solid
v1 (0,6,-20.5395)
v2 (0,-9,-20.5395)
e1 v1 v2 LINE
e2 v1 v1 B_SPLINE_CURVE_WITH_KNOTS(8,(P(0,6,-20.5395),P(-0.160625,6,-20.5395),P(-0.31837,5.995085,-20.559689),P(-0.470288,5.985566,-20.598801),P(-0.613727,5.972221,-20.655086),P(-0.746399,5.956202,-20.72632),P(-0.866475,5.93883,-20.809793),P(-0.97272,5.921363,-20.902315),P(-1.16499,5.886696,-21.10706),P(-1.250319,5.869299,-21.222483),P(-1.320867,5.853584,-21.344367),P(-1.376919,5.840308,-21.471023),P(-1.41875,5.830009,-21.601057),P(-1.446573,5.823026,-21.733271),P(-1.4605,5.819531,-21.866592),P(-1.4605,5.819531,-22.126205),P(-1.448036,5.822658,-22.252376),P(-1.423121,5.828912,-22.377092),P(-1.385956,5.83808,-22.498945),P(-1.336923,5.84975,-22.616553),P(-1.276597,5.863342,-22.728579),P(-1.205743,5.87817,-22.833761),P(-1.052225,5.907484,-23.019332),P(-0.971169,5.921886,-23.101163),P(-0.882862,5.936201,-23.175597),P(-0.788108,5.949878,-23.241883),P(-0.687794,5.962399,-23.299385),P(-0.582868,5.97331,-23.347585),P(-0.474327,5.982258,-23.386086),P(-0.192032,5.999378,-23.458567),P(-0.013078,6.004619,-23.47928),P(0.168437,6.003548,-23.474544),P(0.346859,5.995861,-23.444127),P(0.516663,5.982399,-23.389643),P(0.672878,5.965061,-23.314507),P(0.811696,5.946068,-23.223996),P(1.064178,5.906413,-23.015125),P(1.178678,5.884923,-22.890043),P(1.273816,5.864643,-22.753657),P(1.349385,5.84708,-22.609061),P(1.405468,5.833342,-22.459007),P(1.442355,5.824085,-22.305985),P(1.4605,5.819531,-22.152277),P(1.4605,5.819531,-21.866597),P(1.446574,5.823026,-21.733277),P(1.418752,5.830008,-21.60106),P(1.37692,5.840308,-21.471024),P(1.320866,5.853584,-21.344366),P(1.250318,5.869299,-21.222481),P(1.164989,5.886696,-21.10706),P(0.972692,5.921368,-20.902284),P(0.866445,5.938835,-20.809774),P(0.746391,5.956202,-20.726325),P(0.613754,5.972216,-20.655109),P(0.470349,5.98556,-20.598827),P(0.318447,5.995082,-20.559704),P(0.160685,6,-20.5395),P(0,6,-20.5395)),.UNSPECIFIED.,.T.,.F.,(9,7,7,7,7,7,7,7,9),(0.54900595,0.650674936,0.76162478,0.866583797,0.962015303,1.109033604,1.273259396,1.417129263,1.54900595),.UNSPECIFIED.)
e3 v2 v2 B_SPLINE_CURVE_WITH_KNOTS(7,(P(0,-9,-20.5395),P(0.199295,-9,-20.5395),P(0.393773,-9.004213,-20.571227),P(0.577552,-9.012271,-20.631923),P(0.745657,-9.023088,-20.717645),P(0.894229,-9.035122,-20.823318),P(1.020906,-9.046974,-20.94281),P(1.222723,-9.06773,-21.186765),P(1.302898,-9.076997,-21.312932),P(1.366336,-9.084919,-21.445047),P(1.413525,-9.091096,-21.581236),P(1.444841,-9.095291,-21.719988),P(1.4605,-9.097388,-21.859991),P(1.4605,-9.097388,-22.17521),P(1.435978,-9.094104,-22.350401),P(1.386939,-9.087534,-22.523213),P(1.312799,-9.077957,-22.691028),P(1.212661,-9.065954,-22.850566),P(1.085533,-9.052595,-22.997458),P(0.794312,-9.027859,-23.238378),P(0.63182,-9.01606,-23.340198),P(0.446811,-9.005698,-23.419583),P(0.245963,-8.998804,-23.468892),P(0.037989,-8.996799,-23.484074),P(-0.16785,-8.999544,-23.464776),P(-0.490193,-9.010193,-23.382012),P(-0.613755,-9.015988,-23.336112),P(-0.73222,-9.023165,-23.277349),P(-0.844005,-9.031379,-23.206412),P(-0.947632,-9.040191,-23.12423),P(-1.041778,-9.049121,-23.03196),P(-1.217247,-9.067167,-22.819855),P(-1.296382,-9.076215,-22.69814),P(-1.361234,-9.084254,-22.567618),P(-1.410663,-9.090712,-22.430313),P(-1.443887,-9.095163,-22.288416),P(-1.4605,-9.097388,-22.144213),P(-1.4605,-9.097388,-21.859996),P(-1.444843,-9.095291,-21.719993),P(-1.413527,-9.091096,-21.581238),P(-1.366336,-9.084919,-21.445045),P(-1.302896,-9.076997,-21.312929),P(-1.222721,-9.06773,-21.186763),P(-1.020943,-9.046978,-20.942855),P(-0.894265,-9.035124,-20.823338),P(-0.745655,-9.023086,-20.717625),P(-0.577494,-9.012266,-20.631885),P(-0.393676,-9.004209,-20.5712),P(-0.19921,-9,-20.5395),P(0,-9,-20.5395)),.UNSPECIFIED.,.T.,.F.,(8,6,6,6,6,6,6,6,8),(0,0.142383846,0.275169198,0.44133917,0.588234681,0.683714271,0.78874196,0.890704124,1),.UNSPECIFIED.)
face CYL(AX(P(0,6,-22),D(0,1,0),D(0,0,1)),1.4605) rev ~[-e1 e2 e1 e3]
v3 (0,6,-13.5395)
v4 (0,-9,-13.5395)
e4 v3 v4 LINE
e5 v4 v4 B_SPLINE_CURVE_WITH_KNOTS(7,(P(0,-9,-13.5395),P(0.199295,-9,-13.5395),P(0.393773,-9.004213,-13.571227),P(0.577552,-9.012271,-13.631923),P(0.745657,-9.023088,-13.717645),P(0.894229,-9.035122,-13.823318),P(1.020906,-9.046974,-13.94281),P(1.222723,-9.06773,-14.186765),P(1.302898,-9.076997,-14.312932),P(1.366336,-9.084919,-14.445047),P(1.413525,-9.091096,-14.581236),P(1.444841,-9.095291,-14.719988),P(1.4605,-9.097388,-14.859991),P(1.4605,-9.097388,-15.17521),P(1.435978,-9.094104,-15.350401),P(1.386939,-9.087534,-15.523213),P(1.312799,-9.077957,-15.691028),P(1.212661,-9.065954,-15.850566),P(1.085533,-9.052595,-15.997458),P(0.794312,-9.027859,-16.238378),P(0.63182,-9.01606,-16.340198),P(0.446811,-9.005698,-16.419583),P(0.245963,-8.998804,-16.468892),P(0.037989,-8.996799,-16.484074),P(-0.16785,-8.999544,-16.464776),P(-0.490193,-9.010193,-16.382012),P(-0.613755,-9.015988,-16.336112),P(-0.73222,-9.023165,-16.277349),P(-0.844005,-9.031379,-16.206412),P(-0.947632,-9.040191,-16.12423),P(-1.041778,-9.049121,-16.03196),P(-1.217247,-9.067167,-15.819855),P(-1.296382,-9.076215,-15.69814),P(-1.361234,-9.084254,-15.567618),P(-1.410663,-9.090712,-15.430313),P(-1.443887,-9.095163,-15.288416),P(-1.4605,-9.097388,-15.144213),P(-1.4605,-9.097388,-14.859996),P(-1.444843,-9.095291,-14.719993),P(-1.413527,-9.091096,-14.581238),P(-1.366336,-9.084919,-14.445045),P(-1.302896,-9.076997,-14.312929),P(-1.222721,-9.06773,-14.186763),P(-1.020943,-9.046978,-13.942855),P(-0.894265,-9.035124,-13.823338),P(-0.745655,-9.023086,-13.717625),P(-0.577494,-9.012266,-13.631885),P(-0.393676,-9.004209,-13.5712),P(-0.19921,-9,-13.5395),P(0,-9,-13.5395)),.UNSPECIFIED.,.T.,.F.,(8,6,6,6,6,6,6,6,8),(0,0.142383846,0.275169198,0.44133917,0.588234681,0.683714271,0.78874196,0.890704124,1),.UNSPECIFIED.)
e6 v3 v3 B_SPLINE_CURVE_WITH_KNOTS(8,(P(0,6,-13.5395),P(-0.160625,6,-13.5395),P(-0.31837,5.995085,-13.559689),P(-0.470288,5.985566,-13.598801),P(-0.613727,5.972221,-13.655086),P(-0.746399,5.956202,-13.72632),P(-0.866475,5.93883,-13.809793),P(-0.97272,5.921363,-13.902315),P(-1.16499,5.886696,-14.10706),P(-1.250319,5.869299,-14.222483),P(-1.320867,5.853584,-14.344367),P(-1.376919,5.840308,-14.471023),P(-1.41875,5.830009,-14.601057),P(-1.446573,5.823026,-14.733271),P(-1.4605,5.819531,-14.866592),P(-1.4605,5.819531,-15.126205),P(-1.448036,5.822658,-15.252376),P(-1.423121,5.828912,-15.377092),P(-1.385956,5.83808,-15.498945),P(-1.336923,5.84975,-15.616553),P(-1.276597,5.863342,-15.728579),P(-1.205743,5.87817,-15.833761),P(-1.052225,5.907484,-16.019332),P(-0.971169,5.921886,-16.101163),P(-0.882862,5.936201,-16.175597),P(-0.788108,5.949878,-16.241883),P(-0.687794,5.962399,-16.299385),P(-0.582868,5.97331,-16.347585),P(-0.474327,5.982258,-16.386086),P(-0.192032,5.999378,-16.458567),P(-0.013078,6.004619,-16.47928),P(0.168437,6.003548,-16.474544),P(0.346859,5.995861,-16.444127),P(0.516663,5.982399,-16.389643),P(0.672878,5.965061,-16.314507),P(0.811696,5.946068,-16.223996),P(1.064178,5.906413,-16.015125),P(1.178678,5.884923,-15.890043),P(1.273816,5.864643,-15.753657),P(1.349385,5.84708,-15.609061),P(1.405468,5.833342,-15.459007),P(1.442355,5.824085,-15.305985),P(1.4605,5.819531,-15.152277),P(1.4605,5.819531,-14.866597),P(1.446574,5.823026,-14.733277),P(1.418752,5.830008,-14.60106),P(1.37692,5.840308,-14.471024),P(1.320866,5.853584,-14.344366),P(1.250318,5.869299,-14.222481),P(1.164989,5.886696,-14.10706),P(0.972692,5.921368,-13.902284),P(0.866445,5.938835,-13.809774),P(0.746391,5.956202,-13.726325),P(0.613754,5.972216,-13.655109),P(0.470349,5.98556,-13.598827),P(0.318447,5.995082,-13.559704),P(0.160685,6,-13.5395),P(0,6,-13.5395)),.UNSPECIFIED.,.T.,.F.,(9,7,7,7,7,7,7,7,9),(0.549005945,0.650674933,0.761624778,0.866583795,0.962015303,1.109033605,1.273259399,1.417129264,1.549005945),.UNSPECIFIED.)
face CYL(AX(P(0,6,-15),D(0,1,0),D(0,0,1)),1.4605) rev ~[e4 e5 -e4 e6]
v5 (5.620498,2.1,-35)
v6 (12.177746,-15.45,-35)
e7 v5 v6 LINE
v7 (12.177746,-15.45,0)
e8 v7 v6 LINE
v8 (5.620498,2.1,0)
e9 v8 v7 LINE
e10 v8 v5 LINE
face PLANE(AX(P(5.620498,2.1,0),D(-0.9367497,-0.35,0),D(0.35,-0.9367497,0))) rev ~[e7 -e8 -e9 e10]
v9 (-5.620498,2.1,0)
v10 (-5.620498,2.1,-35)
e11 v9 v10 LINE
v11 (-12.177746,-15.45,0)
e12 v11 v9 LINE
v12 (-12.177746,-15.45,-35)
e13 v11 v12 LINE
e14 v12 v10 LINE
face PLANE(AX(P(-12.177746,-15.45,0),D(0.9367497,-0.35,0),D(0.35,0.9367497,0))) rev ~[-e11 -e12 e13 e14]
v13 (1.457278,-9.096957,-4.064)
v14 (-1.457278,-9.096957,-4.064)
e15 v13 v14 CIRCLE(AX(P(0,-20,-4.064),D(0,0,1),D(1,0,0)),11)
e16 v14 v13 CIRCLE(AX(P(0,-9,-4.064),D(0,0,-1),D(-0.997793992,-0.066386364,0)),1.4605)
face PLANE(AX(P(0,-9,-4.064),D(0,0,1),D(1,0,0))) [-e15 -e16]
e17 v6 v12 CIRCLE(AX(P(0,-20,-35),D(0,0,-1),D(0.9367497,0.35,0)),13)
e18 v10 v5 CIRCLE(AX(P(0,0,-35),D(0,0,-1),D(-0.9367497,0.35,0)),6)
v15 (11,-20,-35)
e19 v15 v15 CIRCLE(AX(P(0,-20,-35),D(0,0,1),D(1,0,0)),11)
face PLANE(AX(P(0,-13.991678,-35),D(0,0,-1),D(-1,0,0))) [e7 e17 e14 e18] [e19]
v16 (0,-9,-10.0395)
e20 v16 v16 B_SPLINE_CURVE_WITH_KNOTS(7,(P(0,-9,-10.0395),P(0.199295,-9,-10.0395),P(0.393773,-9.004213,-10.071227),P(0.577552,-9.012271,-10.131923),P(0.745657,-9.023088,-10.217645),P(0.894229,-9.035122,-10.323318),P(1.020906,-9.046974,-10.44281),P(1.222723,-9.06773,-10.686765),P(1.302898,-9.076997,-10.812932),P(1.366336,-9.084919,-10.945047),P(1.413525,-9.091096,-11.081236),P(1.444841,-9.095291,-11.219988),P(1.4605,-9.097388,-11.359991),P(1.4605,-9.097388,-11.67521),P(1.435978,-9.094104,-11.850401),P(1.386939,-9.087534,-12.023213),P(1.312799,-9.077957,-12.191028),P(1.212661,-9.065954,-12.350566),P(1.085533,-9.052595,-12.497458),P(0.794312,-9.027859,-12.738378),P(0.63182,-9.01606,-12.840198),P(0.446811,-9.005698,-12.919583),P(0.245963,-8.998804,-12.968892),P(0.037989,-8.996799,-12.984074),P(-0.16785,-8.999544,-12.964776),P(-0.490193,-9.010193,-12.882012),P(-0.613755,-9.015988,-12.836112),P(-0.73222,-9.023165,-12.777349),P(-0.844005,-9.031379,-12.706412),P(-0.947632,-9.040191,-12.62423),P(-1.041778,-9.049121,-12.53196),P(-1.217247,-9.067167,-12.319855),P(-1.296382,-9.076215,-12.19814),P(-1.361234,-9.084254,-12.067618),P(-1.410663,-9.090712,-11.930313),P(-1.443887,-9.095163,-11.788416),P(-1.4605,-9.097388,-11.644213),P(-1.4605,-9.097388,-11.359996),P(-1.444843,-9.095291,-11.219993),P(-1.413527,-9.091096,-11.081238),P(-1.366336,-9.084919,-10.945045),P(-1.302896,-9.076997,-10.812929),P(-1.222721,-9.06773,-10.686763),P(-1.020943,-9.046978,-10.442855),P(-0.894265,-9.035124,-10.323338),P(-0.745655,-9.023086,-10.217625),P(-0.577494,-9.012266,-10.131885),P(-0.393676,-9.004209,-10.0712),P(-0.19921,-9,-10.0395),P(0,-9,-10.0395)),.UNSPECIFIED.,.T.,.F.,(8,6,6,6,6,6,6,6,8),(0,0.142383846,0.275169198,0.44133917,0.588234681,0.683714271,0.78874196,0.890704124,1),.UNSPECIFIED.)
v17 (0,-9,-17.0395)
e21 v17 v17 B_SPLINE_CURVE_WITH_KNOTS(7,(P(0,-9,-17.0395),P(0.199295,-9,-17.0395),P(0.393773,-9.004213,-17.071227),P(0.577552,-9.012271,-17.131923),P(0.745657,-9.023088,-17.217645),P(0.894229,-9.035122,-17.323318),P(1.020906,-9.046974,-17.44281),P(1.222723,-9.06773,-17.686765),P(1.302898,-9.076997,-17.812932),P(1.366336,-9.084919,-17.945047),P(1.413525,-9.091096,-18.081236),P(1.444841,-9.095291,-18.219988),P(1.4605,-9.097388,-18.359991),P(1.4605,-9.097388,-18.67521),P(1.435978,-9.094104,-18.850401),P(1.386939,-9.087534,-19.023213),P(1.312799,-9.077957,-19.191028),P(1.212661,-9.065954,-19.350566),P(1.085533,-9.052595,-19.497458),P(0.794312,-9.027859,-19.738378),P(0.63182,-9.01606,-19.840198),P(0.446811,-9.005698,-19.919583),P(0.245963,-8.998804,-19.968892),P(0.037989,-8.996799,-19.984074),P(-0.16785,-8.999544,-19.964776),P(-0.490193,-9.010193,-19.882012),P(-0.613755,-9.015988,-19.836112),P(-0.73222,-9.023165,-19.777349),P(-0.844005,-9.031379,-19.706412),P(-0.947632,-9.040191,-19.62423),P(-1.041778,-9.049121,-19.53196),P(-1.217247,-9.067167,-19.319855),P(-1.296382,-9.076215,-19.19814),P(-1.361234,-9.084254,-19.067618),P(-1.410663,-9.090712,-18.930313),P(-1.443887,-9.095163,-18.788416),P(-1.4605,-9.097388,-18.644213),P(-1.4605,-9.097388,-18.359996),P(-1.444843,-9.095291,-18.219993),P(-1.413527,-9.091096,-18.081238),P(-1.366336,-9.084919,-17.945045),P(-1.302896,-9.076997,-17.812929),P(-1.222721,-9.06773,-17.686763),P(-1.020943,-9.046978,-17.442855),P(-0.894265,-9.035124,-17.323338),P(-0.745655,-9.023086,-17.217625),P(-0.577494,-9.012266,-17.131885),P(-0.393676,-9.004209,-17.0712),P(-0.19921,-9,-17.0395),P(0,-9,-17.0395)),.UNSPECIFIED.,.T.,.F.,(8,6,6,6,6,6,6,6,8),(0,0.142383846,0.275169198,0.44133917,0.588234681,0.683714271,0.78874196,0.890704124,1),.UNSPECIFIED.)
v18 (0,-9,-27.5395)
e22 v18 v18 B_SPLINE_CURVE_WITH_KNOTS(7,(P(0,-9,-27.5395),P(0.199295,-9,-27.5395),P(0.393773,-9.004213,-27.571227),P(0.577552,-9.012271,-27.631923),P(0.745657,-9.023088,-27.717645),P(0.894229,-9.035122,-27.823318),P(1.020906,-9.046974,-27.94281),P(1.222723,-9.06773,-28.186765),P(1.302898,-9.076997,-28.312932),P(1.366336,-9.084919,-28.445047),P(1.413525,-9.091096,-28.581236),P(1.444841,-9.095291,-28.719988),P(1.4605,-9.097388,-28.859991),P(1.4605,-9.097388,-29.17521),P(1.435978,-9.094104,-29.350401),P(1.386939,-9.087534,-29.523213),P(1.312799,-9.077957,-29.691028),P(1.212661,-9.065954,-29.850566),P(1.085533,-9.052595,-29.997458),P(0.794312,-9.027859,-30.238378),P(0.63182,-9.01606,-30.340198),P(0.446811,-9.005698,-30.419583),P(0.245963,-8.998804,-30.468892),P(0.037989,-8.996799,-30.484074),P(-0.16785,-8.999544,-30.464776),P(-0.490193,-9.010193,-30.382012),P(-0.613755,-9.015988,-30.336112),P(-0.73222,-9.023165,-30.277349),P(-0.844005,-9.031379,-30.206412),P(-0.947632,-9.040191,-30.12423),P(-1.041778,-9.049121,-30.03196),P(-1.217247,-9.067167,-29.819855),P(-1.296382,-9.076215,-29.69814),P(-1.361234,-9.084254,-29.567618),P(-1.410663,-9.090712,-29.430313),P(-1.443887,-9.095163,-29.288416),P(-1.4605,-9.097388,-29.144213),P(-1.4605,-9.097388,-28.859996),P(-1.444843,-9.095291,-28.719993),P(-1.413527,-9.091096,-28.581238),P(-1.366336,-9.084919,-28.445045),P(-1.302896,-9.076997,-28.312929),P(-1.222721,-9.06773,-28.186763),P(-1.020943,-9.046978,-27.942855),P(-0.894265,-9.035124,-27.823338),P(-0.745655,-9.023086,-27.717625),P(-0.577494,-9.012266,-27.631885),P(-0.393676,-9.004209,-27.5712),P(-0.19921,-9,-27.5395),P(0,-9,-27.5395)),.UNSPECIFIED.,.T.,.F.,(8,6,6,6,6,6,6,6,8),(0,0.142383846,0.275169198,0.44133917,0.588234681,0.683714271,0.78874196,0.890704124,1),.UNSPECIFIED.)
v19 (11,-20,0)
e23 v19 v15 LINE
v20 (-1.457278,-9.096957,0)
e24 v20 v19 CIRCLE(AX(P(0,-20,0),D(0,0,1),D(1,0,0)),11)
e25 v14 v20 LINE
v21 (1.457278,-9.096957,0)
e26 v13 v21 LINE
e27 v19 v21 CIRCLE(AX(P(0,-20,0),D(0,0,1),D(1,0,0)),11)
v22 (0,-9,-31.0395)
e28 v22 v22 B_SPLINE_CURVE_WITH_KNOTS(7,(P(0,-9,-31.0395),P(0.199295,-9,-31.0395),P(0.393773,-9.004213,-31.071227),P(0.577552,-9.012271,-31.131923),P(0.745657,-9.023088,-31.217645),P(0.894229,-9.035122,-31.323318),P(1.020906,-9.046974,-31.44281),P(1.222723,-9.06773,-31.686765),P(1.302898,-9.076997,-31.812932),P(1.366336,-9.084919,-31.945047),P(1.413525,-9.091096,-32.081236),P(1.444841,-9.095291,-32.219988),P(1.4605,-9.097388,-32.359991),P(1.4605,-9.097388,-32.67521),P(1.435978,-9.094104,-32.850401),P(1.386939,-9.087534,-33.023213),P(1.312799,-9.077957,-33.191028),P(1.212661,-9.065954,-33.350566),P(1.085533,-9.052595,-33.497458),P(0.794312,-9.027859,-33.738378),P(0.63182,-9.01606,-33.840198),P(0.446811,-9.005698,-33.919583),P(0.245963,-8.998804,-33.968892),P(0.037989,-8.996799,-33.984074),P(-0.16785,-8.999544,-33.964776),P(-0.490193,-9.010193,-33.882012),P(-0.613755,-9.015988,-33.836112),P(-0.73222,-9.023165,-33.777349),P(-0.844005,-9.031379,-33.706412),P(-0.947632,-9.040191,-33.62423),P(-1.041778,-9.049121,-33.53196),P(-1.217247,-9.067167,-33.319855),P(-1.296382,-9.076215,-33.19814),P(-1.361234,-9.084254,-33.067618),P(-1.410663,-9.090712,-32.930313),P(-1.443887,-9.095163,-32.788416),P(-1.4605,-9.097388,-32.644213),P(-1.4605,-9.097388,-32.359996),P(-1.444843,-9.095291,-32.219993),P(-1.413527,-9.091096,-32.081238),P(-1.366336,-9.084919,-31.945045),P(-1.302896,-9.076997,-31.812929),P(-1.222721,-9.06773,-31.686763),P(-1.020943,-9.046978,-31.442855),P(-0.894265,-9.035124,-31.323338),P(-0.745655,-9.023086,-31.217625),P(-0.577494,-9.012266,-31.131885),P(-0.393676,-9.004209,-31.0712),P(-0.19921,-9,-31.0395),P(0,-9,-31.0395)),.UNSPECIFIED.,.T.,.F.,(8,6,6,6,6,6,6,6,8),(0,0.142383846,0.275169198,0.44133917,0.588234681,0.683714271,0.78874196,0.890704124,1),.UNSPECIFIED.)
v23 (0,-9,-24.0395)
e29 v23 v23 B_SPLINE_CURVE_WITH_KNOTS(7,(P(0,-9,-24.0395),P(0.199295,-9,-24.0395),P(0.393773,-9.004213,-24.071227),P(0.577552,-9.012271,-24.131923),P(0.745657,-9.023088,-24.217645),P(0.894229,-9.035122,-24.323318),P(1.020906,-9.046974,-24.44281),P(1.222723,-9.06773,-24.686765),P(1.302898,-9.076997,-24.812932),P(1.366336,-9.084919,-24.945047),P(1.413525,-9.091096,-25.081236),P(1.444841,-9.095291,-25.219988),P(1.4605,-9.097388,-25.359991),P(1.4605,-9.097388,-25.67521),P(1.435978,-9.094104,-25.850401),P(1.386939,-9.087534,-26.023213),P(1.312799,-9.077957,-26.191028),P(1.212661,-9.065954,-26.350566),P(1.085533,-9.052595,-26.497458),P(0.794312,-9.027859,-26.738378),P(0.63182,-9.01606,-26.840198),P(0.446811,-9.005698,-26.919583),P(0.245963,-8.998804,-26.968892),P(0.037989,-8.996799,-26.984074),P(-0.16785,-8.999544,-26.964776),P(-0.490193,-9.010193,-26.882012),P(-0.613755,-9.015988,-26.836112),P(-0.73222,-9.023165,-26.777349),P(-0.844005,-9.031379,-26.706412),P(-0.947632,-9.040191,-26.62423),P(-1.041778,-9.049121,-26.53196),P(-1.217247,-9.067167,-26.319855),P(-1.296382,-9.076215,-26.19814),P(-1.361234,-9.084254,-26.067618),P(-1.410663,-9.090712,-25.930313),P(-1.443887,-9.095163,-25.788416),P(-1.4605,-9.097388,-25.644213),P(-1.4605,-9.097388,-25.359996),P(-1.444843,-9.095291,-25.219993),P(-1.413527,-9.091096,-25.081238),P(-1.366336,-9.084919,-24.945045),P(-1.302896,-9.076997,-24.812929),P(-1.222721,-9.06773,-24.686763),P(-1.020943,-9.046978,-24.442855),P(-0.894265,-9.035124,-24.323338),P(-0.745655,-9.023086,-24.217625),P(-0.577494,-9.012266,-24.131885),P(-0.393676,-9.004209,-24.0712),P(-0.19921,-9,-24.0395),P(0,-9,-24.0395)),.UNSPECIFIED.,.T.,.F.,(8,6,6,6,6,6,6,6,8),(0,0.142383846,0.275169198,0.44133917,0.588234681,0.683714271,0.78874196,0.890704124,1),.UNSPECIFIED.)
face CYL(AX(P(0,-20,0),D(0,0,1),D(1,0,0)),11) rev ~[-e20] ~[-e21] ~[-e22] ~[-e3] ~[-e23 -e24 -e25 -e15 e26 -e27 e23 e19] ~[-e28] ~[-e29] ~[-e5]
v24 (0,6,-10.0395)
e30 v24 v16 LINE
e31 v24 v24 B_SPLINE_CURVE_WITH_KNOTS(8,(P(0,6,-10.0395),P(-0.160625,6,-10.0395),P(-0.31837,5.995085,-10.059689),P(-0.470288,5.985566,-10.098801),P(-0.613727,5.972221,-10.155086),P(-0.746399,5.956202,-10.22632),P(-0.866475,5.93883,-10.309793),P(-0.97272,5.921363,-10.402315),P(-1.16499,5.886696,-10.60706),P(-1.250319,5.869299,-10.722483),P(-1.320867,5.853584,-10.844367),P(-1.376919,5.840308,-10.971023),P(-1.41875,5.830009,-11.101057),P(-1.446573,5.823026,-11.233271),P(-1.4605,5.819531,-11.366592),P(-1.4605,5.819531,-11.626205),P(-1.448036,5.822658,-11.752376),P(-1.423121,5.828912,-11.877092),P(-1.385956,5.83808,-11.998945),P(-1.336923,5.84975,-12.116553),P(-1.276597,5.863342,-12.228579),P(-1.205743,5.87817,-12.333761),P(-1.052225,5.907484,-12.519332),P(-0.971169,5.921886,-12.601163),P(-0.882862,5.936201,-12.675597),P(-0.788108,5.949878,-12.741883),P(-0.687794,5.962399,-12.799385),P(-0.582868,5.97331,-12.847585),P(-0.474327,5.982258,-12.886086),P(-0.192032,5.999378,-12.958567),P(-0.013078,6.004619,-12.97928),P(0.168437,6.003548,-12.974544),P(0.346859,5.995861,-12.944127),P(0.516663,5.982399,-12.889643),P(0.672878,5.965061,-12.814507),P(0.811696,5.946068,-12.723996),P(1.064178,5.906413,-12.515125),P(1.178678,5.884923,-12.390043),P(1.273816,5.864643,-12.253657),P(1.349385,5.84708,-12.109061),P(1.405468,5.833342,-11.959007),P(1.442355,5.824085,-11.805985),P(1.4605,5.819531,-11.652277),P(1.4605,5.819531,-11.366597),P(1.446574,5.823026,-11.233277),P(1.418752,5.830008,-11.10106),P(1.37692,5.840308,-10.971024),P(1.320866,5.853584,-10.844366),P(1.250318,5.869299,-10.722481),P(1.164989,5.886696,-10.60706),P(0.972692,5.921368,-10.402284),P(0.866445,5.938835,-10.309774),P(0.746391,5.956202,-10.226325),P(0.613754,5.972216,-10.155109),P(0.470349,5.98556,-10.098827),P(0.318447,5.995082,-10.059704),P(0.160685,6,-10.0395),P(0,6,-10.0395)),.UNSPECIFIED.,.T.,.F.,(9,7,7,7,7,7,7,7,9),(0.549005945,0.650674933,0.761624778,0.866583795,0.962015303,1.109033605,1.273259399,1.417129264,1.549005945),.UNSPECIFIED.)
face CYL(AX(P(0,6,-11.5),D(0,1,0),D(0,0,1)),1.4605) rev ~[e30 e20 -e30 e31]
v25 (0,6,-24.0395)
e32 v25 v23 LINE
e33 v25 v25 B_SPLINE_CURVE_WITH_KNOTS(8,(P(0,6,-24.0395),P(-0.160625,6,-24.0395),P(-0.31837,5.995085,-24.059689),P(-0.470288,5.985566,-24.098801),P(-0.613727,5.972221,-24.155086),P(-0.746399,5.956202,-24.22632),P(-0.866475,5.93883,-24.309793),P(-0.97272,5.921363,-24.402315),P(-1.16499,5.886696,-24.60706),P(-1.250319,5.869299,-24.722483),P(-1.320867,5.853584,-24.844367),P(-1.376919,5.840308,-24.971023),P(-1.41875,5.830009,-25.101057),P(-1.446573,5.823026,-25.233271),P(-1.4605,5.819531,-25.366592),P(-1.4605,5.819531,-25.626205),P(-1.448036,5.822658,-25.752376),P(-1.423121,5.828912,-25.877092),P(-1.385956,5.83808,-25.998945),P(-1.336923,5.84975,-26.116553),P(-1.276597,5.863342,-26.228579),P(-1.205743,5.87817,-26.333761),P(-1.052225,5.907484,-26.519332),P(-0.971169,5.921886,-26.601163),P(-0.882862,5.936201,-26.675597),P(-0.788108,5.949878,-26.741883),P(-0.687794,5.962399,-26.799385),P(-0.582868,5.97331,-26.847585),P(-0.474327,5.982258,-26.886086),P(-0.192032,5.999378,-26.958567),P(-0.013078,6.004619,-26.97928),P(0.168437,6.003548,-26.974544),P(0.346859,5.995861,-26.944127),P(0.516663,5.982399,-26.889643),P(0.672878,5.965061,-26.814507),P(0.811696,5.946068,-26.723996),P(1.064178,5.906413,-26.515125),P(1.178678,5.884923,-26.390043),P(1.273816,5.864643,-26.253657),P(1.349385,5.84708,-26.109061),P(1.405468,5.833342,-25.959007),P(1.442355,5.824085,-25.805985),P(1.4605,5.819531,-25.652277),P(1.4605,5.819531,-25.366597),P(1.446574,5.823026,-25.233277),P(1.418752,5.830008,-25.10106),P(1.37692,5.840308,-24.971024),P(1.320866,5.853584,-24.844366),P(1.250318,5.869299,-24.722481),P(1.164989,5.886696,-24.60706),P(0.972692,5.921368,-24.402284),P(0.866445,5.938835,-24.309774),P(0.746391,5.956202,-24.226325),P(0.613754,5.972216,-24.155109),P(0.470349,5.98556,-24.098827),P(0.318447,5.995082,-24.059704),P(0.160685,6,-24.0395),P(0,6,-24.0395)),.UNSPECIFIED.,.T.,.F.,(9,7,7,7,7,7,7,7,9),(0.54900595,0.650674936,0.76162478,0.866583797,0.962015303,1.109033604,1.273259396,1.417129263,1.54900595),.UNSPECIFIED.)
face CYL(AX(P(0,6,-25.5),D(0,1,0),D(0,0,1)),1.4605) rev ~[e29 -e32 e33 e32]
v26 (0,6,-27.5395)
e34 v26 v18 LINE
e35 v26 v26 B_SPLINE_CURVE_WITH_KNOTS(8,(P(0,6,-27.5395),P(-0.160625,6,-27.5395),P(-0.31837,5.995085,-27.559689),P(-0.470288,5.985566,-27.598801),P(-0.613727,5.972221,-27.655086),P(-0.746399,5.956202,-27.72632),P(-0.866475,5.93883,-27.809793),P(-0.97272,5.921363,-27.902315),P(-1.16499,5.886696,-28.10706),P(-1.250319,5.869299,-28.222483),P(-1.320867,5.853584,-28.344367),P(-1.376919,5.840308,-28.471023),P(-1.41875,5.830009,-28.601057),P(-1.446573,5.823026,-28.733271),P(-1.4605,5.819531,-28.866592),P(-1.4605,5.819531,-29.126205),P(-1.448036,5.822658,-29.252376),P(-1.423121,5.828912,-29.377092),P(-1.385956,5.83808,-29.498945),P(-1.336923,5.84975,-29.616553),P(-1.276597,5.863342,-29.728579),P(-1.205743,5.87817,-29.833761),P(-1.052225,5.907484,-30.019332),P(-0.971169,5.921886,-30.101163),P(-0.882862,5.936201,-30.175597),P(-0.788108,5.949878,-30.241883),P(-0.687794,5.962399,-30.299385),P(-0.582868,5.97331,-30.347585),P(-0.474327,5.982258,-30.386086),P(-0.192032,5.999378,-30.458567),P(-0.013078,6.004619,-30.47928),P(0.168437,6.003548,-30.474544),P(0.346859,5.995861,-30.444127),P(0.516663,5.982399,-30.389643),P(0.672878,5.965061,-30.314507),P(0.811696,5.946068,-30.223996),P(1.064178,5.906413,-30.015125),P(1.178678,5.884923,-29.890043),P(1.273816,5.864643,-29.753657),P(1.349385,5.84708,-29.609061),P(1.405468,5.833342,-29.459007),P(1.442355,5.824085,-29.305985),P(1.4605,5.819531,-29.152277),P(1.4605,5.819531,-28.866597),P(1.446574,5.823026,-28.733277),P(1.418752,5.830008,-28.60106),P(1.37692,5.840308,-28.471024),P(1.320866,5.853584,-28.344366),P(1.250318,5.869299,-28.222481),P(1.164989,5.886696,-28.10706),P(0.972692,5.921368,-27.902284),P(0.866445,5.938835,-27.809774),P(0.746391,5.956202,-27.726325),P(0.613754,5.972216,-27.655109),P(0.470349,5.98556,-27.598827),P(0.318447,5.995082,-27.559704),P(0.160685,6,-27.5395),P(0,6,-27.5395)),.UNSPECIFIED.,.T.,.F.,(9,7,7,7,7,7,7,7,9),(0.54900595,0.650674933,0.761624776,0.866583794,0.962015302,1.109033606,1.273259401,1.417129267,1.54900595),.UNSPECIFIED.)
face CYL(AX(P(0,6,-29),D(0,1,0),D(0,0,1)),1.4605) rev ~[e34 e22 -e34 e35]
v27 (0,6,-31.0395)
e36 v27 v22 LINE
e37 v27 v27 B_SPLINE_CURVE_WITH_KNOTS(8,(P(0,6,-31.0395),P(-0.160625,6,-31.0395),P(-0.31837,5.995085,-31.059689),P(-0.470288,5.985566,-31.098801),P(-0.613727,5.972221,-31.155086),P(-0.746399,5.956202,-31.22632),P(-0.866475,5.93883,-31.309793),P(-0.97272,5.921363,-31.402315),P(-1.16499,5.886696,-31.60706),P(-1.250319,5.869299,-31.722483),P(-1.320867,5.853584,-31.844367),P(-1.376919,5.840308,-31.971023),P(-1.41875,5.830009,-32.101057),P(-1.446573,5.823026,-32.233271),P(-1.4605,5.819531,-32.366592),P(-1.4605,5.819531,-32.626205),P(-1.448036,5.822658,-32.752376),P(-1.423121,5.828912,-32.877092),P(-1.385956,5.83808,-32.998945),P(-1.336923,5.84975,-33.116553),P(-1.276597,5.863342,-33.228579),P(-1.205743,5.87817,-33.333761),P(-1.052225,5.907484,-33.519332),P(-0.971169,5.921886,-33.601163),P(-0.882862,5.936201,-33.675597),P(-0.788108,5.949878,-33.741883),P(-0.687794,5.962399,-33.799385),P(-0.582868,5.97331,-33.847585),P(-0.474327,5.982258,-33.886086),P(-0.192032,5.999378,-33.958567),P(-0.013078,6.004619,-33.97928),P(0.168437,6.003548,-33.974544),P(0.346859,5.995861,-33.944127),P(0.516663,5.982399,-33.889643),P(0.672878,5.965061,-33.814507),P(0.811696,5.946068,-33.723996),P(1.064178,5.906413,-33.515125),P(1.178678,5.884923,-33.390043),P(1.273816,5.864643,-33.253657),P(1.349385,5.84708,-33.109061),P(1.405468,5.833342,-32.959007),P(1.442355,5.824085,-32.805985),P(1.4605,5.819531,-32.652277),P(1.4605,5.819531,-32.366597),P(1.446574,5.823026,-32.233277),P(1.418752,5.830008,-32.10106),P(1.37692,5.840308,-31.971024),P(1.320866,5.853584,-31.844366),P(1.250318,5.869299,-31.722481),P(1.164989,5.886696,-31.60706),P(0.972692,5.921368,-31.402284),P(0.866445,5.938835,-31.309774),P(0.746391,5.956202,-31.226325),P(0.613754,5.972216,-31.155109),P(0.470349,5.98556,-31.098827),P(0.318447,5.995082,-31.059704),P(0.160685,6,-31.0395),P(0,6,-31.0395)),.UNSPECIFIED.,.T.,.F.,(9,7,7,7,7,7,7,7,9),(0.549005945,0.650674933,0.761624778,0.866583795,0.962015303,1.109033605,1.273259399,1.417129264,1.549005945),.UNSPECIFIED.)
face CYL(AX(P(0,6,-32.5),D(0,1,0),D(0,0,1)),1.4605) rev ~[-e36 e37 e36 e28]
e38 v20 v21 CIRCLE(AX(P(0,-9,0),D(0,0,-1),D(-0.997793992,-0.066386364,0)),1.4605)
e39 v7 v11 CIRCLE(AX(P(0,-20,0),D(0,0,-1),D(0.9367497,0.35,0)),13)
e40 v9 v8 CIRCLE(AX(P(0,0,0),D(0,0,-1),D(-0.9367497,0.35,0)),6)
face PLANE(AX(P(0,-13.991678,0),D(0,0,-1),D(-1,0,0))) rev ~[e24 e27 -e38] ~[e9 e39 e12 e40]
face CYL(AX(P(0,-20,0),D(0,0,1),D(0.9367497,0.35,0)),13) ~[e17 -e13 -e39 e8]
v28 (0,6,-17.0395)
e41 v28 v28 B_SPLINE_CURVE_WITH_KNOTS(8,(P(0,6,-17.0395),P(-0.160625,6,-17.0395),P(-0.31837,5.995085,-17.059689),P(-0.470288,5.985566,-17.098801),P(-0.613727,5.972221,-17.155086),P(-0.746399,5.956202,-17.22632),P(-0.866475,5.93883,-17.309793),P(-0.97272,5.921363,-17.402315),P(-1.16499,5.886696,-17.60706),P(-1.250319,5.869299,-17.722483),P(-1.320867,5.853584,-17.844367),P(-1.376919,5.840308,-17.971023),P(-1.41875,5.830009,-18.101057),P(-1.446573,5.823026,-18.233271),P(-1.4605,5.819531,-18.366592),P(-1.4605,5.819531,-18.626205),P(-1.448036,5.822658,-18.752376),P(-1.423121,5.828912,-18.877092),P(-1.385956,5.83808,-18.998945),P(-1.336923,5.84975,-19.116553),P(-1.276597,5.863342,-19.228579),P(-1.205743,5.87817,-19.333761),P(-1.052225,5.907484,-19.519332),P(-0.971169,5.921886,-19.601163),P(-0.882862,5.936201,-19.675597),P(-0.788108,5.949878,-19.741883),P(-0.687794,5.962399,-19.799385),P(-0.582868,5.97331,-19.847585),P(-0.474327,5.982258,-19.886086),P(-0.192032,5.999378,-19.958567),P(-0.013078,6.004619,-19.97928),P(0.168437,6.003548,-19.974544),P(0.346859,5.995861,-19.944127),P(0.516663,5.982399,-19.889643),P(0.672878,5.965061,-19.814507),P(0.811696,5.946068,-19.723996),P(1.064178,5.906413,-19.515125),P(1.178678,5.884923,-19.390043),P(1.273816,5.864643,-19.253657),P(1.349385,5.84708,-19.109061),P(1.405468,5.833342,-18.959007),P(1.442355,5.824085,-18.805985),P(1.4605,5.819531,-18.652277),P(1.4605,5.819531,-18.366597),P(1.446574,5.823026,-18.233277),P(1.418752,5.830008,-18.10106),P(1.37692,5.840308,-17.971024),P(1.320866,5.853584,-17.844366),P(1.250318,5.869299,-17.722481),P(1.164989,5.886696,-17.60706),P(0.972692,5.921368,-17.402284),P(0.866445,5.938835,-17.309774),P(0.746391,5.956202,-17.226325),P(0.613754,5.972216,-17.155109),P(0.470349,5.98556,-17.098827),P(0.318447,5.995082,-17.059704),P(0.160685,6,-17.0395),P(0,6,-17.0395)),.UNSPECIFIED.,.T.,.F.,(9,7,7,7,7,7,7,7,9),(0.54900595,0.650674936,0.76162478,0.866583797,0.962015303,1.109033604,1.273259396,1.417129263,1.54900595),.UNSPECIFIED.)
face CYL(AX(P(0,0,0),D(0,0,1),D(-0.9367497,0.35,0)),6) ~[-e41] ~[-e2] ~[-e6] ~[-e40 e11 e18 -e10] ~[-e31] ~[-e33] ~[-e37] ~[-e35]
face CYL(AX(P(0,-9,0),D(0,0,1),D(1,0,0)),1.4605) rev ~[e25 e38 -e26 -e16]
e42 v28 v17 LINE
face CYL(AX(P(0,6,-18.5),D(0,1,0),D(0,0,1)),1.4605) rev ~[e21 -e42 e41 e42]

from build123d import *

# Parameters (mm, degrees)
BOSS_EXTRUDE2_DEPTH     = 35
SKETCH2_R               = 11
CUT_EXTRUDE1_DEPTH      = 35
SKETCH3_R               = 1.4605
CUT_EXTRUDE2_DEPTH      = 4.064
CUT_EXTRUDE3_REACH      = 55.991
CUT_EXTRUDE3_END_RADIUS = 11
SKETCH4_R               = 1.4605
LPATTERN1_COUNT         = 7
LPATTERN1_PITCH         = 3.5


with BuildPart() as part:
    # Sketch1 → Boss-Extrude2 (new body)
    with BuildSketch(Plane.XY):
        with BuildLine():
            Line((-12.177746097, -15.45), (-5.620498199, 2.1))
            ThreePointArc((-5.620498199, 2.1), (0, 6), (5.620498199, 2.1))
            Line((5.620498199, 2.1), (12.177746097, -15.45))
            ThreePointArc((12.177746097, -15.45), (0, -33), (-12.177746097, -15.45))
        make_face()
    extrude(amount=-BOSS_EXTRUDE2_DEPTH)

    # Sketch2 → Cut-Extrude1 (cut)
    with BuildSketch(Plane.XY):
        with Locations((0, -20)):
            Circle(SKETCH2_R)
    extrude(amount=-CUT_EXTRUDE1_DEPTH, mode=Mode.SUBTRACT)

    # Sketch3 → Cut-Extrude2 (cut)
    with BuildSketch(Plane.XY):
        with Locations((0, -9)):
            Circle(SKETCH3_R)
    extrude(amount=-CUT_EXTRUDE2_DEPTH, mode=Mode.SUBTRACT)

    # Cut-Extrude3: up to this cylinder (the profile starts outside it)
    cut_extrude3_end = Plane(origin=(0, -20, -32.5), z_dir=(0, 0, 1)) * Cylinder(CUT_EXTRUDE3_END_RADIUS, 134.982, mode=Mode.PRIVATE)
    # Sketch4 → Cut-Extrude3 (cut, up to the surface)
    with BuildSketch(Plane(origin=(0, 6, 0), x_dir=(1, 0, 0), z_dir=(0, 1, 0)), mode=Mode.PRIVATE) as cut_extrude3_sk1:
        with Locations(Location((0, 32.5, 0), (0, 0, 270))):
            Circle(SKETCH4_R)
    cut_extrude3_tool1 = extrude(cut_extrude3_sk1.sketch, amount=-CUT_EXTRUDE3_REACH, mode=Mode.PRIVATE) - cut_extrude3_end
    cut_extrude3 = cut_extrude3_tool1.solids().sort_by_distance((0, 6, -32.5))[0]
    add(cut_extrude3, mode=Mode.SUBTRACT)

    # LPattern1: Cut-Extrude3 ×7
    with Locations(*[(0, 0, i * LPATTERN1_PITCH) for i in range(1, LPATTERN1_COUNT)]):
        add(cut_extrude3, mode=Mode.SUBTRACT)


solid = part.part
